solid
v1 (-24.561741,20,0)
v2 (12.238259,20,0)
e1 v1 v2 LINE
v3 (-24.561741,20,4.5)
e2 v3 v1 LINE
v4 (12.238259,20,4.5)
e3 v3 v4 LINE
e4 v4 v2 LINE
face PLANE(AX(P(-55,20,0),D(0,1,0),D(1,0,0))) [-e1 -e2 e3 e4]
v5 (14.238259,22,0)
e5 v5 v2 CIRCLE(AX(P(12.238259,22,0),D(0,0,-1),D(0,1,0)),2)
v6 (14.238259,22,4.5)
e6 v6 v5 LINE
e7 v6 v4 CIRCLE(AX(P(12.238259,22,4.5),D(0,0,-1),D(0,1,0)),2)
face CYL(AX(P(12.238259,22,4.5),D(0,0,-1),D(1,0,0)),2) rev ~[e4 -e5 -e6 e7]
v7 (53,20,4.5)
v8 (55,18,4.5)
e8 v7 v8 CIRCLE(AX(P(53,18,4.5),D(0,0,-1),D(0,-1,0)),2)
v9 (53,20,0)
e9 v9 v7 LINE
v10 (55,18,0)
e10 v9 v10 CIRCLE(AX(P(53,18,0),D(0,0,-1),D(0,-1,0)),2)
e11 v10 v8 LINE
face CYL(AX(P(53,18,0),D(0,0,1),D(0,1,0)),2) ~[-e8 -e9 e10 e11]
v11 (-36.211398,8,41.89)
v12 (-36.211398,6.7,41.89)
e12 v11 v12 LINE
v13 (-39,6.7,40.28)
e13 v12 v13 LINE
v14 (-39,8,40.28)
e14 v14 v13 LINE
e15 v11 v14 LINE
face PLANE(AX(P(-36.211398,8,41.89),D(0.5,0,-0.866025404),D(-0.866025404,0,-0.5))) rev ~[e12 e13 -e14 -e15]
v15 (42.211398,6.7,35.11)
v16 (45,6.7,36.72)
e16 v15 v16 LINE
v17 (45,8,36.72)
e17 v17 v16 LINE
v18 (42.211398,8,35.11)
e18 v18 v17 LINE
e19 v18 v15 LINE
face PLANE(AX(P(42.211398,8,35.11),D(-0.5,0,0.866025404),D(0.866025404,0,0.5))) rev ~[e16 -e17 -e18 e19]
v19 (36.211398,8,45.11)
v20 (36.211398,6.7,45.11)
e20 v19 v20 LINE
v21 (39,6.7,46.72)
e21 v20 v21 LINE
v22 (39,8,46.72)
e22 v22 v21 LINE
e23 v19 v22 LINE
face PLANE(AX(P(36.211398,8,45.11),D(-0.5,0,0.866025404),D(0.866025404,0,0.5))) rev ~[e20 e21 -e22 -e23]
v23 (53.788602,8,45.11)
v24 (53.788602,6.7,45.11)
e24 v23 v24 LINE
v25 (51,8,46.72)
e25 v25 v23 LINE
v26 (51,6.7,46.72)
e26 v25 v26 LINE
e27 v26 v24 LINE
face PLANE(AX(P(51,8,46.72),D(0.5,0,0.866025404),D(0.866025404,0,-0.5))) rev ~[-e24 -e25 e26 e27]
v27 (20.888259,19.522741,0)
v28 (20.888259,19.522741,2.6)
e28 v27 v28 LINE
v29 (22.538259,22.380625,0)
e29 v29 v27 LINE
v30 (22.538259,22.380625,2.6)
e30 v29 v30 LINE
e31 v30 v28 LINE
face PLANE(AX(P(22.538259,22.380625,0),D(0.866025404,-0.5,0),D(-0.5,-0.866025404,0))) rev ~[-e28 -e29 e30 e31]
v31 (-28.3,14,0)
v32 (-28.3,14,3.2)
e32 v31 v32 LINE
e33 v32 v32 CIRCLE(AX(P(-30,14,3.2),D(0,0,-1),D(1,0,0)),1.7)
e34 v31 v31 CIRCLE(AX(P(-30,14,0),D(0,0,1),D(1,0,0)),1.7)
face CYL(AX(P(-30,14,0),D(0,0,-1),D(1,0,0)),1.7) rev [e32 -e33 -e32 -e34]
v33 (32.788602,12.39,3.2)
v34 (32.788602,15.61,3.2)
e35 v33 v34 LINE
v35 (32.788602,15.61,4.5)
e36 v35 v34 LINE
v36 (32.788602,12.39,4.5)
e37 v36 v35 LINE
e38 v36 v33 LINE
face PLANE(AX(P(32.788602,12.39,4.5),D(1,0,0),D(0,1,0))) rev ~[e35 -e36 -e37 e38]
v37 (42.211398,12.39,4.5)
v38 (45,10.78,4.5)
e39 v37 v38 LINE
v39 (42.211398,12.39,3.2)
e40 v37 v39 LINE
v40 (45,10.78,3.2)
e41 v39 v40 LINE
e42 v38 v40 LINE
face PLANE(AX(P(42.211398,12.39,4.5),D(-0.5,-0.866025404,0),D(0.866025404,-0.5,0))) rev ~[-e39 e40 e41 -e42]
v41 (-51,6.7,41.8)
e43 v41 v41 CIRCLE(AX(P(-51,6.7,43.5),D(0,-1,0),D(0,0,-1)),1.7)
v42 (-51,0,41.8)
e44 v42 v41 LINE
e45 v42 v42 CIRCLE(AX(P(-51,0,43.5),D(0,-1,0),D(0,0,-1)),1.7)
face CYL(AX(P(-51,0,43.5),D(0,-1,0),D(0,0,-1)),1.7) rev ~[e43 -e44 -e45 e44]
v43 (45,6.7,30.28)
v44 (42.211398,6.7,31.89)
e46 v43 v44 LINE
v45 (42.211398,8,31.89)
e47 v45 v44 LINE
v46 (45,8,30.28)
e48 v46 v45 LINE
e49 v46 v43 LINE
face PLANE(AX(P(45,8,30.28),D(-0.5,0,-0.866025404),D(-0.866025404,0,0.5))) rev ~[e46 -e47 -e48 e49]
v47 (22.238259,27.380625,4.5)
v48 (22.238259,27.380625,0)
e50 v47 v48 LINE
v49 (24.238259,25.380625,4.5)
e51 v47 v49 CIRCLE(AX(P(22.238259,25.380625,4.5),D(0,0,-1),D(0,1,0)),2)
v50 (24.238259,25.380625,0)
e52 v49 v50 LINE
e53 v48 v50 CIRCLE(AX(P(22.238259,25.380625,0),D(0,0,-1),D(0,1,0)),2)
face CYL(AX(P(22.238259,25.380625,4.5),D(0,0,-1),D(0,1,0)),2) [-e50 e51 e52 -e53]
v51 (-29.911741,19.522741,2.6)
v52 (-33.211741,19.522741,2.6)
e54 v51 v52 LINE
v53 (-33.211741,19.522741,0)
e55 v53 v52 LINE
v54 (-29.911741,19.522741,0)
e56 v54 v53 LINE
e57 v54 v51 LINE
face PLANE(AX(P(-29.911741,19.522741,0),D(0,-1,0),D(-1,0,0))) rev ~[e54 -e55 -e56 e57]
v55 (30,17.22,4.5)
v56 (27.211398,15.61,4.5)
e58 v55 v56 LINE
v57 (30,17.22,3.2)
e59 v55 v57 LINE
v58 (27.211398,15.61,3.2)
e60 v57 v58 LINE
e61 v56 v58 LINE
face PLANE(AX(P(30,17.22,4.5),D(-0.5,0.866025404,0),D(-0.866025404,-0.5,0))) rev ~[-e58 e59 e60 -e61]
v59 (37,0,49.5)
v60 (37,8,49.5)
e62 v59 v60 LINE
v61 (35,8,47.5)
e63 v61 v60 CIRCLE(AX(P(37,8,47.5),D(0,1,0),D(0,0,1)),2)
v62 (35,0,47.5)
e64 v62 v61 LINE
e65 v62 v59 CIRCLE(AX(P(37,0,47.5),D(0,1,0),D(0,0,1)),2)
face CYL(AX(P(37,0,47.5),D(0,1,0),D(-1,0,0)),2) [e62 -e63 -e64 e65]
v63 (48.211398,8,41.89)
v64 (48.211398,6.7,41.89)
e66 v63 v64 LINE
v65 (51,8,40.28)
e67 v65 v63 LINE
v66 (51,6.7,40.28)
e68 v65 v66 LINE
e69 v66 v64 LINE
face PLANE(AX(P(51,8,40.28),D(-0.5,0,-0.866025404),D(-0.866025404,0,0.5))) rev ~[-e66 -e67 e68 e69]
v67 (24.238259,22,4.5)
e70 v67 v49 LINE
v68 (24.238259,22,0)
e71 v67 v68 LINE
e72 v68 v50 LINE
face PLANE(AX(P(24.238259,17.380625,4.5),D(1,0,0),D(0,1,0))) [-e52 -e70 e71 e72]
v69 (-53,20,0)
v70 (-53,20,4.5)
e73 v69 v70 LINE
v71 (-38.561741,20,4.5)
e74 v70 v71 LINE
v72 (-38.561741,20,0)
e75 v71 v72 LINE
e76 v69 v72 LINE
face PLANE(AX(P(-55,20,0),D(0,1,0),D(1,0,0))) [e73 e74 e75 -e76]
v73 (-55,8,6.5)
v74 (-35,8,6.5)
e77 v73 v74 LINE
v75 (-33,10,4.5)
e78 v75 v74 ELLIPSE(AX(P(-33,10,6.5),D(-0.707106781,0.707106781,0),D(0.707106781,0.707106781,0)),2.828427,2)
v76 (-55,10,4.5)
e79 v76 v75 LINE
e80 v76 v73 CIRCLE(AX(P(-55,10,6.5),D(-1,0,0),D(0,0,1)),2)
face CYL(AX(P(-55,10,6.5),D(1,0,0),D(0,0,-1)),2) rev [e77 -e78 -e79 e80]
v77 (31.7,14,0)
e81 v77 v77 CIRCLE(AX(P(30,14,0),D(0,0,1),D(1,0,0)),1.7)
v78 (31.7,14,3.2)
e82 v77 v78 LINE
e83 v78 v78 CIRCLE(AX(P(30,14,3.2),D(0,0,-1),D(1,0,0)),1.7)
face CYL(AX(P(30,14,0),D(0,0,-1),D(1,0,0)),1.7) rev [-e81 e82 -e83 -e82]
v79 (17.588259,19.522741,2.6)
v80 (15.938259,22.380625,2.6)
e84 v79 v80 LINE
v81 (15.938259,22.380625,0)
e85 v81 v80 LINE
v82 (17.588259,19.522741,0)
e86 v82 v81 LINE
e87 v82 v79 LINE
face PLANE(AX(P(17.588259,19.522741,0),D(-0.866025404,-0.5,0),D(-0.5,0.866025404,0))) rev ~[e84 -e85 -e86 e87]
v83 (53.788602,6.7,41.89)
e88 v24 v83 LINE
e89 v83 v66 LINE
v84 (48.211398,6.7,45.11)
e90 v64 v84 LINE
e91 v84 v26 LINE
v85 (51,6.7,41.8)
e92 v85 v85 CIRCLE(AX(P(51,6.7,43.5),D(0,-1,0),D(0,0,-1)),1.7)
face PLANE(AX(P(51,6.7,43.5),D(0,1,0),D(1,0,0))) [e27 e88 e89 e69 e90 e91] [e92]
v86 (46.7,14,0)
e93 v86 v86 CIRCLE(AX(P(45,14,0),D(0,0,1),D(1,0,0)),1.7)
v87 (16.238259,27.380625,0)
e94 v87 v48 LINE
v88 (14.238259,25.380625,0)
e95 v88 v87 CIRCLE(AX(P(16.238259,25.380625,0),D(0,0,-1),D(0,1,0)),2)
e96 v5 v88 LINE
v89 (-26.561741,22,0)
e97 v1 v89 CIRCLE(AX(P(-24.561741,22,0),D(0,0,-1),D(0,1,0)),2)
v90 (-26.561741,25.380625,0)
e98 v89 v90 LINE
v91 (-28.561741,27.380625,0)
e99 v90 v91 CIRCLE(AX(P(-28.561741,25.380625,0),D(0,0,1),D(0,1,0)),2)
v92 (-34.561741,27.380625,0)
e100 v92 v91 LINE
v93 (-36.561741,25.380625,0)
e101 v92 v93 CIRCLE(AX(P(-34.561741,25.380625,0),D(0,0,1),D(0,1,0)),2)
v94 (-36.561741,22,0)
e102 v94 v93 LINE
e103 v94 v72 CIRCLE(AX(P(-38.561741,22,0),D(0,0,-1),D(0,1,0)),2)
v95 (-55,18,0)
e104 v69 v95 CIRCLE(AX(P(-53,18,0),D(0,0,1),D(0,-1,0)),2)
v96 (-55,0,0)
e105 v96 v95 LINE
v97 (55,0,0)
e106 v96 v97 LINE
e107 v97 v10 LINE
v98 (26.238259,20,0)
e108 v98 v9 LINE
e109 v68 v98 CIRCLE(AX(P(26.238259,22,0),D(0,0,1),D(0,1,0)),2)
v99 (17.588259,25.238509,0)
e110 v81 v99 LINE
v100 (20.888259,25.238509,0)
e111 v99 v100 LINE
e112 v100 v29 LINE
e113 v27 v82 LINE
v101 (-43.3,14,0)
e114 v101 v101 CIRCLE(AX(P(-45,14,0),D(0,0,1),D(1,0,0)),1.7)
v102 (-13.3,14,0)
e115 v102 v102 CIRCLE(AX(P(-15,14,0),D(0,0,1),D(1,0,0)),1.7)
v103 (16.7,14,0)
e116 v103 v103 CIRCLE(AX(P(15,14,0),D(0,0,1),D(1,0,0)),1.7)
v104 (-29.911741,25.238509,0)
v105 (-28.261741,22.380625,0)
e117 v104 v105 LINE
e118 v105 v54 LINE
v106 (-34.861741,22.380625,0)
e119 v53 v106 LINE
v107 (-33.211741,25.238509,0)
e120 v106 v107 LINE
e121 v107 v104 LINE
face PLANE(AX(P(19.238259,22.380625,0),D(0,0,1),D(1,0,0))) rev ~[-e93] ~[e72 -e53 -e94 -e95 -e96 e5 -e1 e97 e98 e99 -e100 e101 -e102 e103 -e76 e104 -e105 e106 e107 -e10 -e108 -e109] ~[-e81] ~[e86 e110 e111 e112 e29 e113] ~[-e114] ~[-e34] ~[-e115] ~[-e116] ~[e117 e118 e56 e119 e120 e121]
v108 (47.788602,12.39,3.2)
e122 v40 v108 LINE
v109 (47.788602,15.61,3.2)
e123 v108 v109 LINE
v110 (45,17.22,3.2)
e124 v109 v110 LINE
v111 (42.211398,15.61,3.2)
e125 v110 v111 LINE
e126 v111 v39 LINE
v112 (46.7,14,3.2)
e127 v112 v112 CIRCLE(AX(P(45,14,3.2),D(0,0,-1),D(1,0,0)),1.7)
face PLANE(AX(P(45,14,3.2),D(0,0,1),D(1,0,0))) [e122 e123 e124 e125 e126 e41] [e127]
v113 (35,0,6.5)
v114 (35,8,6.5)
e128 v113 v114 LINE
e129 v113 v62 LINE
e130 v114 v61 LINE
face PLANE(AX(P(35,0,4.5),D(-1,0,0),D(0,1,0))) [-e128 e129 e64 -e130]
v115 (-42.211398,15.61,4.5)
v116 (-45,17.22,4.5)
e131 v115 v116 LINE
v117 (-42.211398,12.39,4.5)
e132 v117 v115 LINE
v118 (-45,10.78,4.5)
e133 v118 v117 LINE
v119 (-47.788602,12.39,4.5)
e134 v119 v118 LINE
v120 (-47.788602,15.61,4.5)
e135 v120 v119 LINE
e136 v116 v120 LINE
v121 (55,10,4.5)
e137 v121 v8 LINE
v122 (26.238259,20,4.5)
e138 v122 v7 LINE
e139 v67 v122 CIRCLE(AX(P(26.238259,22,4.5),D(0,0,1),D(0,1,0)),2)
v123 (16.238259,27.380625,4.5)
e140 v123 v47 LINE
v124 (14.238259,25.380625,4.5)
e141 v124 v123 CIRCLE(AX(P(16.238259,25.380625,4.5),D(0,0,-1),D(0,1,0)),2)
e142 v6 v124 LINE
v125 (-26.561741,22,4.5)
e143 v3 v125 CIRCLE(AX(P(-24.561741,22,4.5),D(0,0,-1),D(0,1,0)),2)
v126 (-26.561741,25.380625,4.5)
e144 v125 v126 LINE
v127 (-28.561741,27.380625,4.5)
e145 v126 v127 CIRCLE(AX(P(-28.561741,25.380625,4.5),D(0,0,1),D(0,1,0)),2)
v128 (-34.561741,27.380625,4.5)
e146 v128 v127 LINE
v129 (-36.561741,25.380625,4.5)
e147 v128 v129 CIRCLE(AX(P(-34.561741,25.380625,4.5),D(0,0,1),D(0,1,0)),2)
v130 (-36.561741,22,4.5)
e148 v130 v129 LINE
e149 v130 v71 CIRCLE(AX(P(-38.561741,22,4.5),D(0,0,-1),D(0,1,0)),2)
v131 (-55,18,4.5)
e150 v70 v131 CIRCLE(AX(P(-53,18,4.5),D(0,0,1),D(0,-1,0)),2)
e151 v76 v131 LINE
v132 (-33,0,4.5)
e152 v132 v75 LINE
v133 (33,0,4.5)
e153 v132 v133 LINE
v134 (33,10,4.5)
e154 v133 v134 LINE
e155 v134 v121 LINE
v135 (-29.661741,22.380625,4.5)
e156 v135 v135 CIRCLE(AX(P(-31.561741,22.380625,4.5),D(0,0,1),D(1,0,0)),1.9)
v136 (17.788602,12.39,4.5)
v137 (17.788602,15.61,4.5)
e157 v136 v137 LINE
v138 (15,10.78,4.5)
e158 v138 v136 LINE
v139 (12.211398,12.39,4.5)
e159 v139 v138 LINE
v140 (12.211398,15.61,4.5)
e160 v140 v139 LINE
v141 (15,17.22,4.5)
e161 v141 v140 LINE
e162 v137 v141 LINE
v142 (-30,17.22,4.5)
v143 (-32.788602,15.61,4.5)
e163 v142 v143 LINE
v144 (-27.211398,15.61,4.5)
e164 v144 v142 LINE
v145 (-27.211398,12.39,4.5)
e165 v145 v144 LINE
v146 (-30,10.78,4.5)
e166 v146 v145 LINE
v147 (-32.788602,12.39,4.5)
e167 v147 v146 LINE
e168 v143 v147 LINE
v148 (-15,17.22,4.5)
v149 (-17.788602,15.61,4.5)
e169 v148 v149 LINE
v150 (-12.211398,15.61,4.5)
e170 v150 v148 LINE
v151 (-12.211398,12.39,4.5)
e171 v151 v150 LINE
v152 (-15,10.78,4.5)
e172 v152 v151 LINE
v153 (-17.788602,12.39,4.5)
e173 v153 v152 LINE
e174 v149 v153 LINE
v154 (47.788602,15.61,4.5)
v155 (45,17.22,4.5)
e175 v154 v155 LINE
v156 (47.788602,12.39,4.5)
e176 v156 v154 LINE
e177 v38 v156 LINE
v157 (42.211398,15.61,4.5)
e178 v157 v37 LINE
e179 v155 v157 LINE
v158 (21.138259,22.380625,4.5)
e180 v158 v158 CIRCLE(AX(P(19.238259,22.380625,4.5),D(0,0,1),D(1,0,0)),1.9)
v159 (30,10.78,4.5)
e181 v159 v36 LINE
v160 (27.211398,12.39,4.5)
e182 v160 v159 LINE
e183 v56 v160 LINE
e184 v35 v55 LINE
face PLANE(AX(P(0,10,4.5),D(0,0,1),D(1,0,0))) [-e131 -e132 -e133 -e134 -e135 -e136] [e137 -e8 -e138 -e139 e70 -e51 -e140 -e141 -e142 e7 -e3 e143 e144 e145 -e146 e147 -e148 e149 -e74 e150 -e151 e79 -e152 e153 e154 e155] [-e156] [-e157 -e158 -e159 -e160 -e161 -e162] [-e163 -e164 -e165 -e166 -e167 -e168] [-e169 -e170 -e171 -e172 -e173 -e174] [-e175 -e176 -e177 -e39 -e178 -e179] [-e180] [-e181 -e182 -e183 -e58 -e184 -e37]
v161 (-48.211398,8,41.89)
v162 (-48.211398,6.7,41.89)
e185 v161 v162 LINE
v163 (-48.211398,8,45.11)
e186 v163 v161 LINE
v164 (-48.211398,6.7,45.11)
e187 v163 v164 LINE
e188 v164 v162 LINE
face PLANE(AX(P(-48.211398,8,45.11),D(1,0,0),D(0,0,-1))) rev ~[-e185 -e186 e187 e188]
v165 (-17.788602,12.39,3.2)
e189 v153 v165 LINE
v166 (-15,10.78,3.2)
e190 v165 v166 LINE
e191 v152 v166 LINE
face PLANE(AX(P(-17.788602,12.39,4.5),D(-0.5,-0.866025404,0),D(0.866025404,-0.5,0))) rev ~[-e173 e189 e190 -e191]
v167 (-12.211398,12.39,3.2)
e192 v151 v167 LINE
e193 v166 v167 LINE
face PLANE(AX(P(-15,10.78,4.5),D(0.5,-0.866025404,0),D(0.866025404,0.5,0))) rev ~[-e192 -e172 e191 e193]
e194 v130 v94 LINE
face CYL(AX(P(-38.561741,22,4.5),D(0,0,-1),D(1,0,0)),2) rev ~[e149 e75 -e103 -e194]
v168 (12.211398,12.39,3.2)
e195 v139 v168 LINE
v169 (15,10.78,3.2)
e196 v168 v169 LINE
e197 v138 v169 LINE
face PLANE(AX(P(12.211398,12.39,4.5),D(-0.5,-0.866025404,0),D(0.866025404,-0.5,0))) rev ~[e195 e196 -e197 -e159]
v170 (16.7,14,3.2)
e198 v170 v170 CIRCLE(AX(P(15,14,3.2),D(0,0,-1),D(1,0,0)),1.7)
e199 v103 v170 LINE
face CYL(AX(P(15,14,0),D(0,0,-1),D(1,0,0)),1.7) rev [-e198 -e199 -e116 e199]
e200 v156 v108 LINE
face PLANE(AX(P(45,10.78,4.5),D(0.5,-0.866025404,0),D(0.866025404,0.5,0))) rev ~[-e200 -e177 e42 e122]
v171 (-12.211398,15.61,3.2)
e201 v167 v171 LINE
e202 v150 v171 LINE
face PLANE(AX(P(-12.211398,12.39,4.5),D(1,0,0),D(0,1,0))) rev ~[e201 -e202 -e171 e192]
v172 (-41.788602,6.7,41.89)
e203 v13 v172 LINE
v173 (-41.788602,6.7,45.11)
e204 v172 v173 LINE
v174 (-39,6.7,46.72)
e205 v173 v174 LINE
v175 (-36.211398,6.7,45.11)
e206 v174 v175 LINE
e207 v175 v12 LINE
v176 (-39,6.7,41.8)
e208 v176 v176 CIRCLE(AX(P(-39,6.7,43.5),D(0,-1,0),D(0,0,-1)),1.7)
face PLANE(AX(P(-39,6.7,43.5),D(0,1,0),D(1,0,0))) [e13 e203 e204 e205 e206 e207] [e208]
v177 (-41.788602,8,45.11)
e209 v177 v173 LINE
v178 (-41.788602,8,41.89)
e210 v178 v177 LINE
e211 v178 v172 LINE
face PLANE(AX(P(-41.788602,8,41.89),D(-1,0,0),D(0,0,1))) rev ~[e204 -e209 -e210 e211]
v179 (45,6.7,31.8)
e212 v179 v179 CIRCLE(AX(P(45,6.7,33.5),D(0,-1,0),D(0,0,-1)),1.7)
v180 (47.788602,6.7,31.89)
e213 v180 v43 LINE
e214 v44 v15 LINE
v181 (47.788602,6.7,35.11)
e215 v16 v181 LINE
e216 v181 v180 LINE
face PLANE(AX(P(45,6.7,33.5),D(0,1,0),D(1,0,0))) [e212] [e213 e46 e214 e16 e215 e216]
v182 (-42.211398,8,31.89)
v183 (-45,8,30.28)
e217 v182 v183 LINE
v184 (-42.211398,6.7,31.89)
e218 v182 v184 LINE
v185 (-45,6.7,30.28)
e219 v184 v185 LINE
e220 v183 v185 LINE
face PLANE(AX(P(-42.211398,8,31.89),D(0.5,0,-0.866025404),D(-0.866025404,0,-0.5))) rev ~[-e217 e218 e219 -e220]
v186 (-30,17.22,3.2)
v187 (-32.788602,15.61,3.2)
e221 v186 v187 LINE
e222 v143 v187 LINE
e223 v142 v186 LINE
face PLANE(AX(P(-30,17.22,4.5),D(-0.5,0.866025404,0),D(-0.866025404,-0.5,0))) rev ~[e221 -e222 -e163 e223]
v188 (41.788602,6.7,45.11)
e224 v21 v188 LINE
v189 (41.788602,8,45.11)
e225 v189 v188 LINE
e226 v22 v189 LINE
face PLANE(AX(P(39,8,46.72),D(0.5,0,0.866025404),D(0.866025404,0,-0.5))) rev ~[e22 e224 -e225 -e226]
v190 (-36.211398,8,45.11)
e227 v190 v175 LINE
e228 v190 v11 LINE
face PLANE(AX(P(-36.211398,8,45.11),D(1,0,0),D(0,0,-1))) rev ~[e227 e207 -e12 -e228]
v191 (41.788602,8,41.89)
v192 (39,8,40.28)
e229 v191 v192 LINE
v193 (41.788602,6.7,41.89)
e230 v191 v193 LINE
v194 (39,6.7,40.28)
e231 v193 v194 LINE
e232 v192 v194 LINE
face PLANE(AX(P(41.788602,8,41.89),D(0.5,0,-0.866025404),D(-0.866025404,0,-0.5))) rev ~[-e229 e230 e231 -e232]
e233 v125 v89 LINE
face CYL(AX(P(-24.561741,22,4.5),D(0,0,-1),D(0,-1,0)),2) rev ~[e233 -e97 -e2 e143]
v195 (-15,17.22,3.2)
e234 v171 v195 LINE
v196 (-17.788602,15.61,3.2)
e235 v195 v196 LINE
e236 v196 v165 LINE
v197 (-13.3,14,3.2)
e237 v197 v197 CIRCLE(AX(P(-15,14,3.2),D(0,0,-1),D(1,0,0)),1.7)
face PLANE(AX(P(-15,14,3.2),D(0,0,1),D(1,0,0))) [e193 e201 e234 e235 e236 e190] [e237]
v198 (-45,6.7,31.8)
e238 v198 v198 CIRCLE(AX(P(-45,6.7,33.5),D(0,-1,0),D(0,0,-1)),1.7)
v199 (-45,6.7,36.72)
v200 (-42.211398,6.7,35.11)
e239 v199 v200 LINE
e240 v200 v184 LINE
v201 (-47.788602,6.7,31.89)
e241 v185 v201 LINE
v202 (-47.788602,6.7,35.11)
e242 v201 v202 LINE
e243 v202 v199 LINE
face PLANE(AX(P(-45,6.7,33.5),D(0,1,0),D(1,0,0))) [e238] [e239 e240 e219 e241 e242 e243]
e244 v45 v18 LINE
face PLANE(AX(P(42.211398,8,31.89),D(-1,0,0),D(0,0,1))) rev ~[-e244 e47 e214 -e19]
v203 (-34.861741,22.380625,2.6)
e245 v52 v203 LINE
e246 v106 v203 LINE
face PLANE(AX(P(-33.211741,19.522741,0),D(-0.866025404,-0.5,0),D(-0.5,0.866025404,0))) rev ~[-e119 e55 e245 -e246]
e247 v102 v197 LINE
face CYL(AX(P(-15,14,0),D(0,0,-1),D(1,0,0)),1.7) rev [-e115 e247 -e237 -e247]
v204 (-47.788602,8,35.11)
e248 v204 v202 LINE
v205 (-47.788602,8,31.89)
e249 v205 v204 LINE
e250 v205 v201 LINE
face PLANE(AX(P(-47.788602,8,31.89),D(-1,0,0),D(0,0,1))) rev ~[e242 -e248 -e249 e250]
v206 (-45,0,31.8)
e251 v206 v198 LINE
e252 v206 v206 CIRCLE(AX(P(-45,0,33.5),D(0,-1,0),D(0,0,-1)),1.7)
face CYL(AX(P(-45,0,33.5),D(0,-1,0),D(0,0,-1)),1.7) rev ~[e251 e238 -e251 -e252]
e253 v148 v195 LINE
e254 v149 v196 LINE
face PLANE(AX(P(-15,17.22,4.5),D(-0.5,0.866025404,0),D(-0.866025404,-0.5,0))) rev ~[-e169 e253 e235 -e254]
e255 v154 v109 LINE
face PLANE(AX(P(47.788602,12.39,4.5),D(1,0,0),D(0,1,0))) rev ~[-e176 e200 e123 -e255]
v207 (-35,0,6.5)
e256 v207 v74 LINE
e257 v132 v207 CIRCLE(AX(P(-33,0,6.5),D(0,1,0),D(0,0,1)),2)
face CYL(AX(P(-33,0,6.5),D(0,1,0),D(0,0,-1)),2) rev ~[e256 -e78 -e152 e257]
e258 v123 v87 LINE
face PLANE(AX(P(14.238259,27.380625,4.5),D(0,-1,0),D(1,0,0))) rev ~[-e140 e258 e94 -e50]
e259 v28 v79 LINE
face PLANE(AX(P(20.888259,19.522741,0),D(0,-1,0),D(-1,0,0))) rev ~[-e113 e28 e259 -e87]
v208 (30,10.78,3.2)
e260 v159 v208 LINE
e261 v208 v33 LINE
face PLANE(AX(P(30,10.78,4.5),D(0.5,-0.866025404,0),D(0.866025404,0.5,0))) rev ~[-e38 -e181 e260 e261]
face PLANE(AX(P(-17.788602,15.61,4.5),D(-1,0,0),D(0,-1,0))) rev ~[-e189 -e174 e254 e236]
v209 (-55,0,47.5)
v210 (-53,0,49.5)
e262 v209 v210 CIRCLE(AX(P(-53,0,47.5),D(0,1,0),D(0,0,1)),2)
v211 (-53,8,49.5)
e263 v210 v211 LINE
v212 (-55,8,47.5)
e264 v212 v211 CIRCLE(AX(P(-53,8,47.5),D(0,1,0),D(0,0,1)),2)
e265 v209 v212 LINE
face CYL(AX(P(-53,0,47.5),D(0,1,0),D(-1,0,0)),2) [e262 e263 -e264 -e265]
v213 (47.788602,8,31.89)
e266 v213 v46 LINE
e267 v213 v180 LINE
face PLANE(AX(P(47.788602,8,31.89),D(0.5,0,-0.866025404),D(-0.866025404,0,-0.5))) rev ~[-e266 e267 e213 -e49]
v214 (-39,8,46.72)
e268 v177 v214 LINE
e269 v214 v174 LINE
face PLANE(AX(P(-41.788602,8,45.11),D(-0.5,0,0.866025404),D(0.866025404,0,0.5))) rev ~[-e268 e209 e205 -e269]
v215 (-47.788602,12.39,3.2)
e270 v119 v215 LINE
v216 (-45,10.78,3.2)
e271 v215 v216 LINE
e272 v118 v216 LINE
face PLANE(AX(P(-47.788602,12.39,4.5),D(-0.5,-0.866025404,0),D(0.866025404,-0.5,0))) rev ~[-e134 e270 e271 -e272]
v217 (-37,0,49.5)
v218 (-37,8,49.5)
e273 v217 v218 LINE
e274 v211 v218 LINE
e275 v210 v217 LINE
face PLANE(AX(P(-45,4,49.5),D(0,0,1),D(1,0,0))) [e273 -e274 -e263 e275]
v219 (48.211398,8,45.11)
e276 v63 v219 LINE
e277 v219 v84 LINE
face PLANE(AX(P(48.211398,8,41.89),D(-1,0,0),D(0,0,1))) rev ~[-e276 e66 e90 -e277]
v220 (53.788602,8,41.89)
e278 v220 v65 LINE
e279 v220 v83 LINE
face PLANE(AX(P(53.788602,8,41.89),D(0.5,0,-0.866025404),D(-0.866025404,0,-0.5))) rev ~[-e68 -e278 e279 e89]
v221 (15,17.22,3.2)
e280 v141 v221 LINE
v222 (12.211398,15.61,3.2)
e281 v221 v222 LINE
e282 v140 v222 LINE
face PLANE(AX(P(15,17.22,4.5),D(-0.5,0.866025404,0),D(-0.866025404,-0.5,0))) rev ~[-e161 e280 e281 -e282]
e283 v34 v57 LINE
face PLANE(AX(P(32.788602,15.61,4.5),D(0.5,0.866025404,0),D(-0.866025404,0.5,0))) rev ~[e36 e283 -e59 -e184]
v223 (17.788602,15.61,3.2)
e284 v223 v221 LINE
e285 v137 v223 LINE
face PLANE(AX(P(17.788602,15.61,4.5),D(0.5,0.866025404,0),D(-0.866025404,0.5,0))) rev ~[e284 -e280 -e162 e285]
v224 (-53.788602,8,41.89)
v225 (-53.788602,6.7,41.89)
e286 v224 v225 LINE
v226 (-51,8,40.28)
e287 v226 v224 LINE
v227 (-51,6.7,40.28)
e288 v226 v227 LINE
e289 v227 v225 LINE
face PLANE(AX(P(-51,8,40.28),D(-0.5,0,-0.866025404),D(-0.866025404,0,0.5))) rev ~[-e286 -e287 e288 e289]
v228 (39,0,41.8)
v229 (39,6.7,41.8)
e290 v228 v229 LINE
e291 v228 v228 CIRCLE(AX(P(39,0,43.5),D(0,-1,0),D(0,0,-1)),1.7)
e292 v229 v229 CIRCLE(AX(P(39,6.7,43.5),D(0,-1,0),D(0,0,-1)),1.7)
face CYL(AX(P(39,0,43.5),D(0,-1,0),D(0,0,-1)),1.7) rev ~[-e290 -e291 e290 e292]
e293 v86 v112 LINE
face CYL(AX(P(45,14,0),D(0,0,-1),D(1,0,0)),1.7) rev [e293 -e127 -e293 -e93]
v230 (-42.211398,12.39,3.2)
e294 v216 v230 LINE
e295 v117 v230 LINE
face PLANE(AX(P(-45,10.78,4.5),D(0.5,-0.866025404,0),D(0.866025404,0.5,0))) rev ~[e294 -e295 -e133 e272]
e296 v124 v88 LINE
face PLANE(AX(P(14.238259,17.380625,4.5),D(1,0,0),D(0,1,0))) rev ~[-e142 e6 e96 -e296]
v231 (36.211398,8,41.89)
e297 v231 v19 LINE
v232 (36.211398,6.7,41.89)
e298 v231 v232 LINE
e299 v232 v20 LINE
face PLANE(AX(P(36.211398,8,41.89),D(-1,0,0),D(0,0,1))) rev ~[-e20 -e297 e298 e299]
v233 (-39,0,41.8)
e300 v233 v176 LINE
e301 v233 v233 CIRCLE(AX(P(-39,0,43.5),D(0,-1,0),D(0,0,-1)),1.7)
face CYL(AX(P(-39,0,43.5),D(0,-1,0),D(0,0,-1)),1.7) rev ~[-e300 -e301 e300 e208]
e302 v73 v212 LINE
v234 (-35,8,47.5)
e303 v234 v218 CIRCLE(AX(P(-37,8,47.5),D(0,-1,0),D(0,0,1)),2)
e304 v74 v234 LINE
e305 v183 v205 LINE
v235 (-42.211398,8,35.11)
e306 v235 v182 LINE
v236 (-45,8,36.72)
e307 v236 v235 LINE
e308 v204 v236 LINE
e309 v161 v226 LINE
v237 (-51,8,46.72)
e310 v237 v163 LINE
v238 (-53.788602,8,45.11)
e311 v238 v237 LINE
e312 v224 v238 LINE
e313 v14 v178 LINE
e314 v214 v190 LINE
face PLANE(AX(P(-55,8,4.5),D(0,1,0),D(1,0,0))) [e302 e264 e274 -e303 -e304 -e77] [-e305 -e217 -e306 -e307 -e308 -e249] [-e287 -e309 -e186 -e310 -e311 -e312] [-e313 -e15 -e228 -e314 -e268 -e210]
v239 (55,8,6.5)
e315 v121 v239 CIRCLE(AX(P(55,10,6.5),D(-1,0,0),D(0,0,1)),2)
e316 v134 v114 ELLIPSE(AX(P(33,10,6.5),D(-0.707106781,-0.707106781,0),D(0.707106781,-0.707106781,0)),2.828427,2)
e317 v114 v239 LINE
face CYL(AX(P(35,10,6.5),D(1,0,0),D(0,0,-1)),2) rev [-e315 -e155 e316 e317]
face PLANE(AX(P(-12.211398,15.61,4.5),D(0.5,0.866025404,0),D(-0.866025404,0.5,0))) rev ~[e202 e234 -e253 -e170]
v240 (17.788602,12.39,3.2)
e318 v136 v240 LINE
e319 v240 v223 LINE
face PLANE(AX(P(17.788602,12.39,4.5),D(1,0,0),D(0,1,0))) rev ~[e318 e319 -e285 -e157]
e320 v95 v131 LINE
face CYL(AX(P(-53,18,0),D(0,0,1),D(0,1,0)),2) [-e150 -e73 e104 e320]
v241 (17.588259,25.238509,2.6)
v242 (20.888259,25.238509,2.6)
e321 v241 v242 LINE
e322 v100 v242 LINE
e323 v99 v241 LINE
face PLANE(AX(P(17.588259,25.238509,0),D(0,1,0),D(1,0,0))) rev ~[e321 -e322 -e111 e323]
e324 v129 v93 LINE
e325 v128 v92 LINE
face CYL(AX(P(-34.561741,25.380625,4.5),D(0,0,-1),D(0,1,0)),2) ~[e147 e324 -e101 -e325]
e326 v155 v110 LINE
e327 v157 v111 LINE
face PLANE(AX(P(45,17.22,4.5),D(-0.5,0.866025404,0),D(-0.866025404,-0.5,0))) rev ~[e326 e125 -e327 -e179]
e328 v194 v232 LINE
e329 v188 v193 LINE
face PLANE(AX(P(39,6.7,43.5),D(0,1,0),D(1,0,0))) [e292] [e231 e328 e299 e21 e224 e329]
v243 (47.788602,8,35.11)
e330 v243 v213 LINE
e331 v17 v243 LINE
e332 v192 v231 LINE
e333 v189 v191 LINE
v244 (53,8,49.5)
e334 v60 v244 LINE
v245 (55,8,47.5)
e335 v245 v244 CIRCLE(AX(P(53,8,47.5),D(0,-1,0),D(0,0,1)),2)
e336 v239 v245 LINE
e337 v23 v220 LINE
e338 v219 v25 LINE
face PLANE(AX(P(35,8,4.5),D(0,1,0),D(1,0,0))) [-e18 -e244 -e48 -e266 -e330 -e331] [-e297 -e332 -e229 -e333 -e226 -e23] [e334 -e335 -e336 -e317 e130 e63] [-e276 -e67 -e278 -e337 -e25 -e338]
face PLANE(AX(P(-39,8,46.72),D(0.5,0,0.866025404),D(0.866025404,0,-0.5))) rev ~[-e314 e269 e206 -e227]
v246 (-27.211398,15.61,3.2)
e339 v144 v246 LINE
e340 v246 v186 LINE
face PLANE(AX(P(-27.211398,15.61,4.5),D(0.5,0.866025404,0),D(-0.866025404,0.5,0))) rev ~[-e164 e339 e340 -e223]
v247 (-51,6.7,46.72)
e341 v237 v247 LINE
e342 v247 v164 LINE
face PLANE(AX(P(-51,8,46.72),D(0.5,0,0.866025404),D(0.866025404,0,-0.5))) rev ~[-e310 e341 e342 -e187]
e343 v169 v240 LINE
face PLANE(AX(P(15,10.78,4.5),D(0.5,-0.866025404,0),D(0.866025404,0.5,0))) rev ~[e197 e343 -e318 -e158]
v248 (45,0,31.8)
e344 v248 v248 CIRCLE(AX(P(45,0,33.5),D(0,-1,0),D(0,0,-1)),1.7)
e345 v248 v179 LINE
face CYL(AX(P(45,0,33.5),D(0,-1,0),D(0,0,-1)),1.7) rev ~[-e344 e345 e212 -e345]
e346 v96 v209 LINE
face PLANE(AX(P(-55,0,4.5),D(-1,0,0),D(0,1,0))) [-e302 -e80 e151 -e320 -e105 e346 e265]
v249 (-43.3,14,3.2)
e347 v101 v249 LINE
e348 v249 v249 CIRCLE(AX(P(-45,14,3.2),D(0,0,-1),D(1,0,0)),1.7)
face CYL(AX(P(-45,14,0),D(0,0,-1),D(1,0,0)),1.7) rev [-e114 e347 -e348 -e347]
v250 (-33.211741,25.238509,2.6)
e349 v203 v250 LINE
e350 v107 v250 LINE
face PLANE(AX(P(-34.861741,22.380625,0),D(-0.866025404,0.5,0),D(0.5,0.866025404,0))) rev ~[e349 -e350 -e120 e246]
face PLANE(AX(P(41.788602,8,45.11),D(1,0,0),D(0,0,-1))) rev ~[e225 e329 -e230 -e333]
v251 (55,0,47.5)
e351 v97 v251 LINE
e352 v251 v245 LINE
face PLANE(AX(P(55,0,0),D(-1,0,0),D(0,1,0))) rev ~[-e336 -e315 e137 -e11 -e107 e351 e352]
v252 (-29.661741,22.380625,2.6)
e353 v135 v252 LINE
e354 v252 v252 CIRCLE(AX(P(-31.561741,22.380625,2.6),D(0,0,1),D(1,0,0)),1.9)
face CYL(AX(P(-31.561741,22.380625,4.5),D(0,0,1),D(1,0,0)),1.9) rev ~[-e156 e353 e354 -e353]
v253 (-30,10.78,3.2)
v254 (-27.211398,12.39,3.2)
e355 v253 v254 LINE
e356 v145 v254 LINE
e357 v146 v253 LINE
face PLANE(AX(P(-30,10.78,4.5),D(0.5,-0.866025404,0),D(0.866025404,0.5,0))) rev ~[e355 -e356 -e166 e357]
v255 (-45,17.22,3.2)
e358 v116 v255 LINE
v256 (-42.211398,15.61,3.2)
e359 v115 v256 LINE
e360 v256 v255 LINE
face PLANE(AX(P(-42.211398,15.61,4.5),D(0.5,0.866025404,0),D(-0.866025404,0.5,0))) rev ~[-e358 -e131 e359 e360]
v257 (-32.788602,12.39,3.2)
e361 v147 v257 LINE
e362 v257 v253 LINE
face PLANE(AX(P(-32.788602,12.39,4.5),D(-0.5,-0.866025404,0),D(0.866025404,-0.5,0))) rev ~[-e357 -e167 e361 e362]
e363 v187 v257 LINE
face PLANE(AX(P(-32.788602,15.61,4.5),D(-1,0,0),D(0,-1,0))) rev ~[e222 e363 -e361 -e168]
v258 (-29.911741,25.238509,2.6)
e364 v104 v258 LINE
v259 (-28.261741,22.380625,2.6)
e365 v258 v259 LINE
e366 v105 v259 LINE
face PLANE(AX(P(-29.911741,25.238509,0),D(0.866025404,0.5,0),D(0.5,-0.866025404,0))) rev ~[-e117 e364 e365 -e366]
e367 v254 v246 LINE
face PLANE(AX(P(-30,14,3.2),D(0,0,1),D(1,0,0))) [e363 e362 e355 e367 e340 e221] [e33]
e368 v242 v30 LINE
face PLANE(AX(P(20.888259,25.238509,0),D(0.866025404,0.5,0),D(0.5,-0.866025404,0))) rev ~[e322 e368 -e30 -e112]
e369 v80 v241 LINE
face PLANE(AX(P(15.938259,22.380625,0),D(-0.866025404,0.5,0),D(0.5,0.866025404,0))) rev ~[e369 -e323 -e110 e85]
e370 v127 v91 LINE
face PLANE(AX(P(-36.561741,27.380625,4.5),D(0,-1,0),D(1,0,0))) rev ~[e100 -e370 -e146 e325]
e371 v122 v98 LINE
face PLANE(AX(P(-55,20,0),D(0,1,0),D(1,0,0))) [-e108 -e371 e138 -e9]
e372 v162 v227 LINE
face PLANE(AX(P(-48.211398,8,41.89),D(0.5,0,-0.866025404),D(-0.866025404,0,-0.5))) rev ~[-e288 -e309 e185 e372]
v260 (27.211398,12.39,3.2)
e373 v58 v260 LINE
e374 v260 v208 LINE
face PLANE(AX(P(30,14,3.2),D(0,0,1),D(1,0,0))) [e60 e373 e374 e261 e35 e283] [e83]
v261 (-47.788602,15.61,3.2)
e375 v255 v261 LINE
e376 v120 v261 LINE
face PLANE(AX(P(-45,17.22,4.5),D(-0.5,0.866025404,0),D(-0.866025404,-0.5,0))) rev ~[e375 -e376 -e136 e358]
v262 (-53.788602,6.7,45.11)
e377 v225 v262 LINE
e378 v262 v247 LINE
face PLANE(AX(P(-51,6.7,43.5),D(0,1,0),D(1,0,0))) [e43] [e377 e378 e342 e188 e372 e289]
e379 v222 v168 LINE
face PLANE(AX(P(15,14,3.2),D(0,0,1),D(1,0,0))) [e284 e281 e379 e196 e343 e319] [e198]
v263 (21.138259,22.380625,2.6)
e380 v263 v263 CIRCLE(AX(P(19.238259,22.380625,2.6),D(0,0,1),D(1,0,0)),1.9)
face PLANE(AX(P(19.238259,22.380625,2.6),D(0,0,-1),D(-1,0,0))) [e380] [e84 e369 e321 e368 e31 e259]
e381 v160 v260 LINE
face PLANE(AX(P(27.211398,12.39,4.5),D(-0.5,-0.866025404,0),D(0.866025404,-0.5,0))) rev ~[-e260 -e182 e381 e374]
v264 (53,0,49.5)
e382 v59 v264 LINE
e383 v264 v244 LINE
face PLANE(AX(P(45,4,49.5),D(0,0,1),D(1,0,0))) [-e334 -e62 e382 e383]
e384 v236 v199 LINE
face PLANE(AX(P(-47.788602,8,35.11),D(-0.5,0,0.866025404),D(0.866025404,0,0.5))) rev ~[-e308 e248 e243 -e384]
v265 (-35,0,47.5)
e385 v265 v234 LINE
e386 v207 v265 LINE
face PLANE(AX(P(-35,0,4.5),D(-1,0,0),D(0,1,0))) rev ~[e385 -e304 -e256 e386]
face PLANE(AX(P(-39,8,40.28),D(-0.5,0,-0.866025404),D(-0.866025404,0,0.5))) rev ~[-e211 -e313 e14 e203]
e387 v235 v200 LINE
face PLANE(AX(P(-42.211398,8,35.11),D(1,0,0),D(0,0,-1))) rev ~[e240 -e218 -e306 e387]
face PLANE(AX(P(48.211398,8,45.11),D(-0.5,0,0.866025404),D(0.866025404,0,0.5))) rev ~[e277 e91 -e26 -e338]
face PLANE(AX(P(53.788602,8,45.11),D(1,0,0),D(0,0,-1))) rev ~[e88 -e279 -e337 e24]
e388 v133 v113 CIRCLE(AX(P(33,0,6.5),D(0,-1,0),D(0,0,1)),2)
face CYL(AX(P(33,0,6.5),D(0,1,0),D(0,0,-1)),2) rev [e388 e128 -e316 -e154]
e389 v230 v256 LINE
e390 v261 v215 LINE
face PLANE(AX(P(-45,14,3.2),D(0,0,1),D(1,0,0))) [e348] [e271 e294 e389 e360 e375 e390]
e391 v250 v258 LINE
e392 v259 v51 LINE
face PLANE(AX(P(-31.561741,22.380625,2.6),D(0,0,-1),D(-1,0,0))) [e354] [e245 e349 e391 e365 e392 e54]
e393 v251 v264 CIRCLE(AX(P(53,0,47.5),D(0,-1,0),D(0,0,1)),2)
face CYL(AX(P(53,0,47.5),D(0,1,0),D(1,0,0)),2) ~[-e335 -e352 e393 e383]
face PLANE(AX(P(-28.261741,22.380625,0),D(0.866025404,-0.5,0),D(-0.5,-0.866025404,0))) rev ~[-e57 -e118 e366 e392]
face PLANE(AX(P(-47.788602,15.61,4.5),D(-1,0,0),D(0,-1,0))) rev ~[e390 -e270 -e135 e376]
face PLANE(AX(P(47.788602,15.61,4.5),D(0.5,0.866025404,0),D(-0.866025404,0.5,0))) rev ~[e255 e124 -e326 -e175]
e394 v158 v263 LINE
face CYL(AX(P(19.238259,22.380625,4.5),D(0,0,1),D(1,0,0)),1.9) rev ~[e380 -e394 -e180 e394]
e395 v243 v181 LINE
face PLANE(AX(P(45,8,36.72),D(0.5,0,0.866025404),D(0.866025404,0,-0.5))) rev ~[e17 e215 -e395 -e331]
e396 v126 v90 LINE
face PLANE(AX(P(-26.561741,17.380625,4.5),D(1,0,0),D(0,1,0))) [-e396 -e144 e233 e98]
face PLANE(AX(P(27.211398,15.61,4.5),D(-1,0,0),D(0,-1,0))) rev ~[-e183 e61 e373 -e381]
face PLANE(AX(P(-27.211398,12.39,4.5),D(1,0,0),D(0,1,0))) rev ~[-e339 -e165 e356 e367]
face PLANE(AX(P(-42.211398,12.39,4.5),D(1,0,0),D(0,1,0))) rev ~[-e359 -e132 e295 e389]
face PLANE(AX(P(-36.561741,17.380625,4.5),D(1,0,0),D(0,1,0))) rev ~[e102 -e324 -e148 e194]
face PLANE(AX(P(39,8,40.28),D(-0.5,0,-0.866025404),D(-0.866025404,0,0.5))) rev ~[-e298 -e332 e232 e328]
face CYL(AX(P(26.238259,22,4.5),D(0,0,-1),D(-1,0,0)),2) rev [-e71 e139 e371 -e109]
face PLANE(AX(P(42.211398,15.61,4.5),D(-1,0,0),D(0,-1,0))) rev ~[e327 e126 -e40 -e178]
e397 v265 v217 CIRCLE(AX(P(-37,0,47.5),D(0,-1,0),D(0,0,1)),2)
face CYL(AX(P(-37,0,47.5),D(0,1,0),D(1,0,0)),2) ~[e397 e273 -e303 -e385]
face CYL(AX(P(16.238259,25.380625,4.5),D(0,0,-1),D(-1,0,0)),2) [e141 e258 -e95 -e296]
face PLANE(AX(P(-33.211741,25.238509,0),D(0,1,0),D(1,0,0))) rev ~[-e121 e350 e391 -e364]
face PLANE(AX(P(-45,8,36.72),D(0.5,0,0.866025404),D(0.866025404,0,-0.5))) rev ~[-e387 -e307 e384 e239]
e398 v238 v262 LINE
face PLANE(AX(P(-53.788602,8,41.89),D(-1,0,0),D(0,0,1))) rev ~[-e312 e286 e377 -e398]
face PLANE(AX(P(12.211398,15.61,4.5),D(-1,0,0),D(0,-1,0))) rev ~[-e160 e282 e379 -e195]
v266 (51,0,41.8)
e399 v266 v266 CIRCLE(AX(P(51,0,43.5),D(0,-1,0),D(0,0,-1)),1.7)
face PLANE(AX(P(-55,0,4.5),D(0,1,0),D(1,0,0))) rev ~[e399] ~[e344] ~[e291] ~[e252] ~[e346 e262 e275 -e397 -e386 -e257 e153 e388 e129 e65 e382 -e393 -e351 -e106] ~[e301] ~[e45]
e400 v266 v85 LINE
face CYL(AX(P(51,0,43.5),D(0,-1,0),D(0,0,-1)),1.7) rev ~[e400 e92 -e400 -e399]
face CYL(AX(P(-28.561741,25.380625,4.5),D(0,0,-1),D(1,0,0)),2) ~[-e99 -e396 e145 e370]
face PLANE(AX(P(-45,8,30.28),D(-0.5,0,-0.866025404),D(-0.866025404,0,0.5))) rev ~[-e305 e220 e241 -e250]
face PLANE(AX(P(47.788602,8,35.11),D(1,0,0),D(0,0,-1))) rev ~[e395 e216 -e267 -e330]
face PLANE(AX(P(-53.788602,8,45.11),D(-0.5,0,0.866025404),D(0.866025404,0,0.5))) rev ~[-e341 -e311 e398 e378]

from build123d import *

# Parameters (mm, degrees)
SKETCH_1_W          = 110
SKETCH_1_H          = 20
SKETCH_1_R          = 1.7
EXTRUDE_1_DEPTH     = 4.5
SKETCH_2_W          = 20
SKETCH_2_H          = 8
EXTRUDE_2_DEPTH     = 45
CUT_EXTRUDE_1_DEPTH = 1.3
SKETCH_4_W          = 10
SKETCH_4_H          = 10
EXTRUDE_3_DEPTH     = 4.5
SKETCH_5_R          = 1.9
CUT_EXTRUDE_2_DEPTH = 77.155752448
CUT_EXTRUDE_3_DEPTH = 2.6
SKETCH_7_R          = 1.7
CUT_EXTRUDE_4_DEPTH = 79.898343651
CUT_EXTRUDE_5_DEPTH = 1.3
FILLET_1_R          = 2


with BuildPart() as part:
    # 草图1 → 凸台-拉伸1 (new body)
    with BuildSketch(Plane.XY):
        with Locations((0, 10)):
            Rectangle(SKETCH_1_W, SKETCH_1_H)
        with Locations((-45, 14)):
            Circle(SKETCH_1_R, mode=Mode.SUBTRACT)
        with Locations((-30, 14)):
            Circle(SKETCH_1_R, mode=Mode.SUBTRACT)
        with Locations((-15, 14)):
            Circle(SKETCH_1_R, mode=Mode.SUBTRACT)
        with Locations((15, 14)):
            Circle(SKETCH_1_R, mode=Mode.SUBTRACT)
        with Locations((30, 14)):
            Circle(SKETCH_1_R, mode=Mode.SUBTRACT)
        with Locations((45, 14)):
            Circle(SKETCH_1_R, mode=Mode.SUBTRACT)
    extrude(amount=EXTRUDE_1_DEPTH)

    # 草图2 → 凸台-拉伸2 (add)
    with BuildSketch(Plane.XY.offset(4.5)):
        with Locations((-45, 4)):
            Rectangle(SKETCH_2_W, SKETCH_2_H)
        with Locations((45, 4)):
            Rectangle(SKETCH_2_W, SKETCH_2_H)
    extrude(amount=EXTRUDE_2_DEPTH)

    # 草图3 → 切除-拉伸1 (cut)
    with BuildSketch(Plane.XY.offset(4.5)):
        Polygon((-45, 17.22), (-47.7886018, 15.61), (-47.7886018, 12.39), (-45, 10.78), (-42.2113982, 12.39), (-42.2113982, 15.61), align=None)
        Polygon((-30, 17.22), (-32.7886018, 15.61), (-32.7886018, 12.39), (-30, 10.78), (-27.2113982, 12.39), (-27.2113982, 15.61), align=None)
        Polygon((-15, 17.22), (-17.7886018, 15.61), (-17.7886018, 12.39), (-15, 10.78), (-12.2113982, 12.39), (-12.2113982, 15.61), align=None)
        Polygon((15, 17.22), (12.2113982, 15.61), (12.2113982, 12.39), (15, 10.78), (17.7886018, 12.39), (17.7886018, 15.61), align=None)
        Polygon((30, 17.22), (27.2113982, 15.61), (27.2113982, 12.39), (30, 10.78), (32.7886018, 12.39), (32.7886018, 15.61), align=None)
        Polygon((45, 17.22), (42.2113982, 15.61), (42.2113982, 12.39), (45, 10.78), (47.7886018, 12.39), (47.7886018, 15.61), align=None)
    extrude(amount=-CUT_EXTRUDE_1_DEPTH, mode=Mode.SUBTRACT)

    # 草图4 → 凸台-拉伸3 (add)
    with BuildSketch(Plane.XY.offset(4.5)):
        with Locations((19.238259457, 22.3806251)):
            Rectangle(SKETCH_4_W, SKETCH_4_H)
        with Locations((-31.561740543, 22.3806251)):
            Rectangle(SKETCH_4_W, SKETCH_4_H)
    extrude(amount=-EXTRUDE_3_DEPTH)

    # 草图5 → 切除-拉伸2 (cut, through all)
    with BuildSketch(Plane.XY.offset(4.5)):
        with Locations((19.238259457, 22.3806251)):
            Circle(SKETCH_5_R)
        with Locations((-31.561740543, 22.3806251)):
            Circle(SKETCH_5_R)
    extrude(amount=-CUT_EXTRUDE_2_DEPTH, mode=Mode.SUBTRACT)

    # 草图6 → 切除-拉伸3 (cut)
    with BuildSketch(Plane(origin=(0, 0, 0), x_dir=(-1, 0, 0), z_dir=(0, 0, -1))):
        Polygon((34.861740543, 22.3806251), (33.211740543, 25.238508932), (29.911740543, 25.238508932), (28.261740543, 22.3806251), (29.911740543, 19.522741267), (33.211740543, 19.522741267), align=None)
        Polygon((-15.938259457, 22.3806251), (-17.588259457, 25.238508932), (-20.888259457, 25.238508932), (-22.538259457, 22.3806251), (-20.888259457, 19.522741267), (-17.588259457, 19.522741267), align=None)
    extrude(amount=-CUT_EXTRUDE_3_DEPTH, mode=Mode.SUBTRACT)

    # 草图7 → 切除-拉伸4 (cut, through all)
    with BuildSketch(Plane.XZ):
        with Locations(Location((-51, 43.5, 0), (0, 0, 270))):
            Circle(SKETCH_7_R)
        with Locations(Location((-39, 43.5, 0), (0, 0, 270))):
            Circle(SKETCH_7_R)
        with Locations(Location((-45, 33.5, 0), (0, 0, 270))):
            Circle(SKETCH_7_R)
        with Locations(Location((39, 43.5, 0), (0, 0, 270))):
            Circle(SKETCH_7_R)
        with Locations(Location((51, 43.5, 0), (0, 0, 270))):
            Circle(SKETCH_7_R)
        with Locations(Location((45, 33.5, 0), (0, 0, 270))):
            Circle(SKETCH_7_R)
    extrude(amount=-CUT_EXTRUDE_4_DEPTH, mode=Mode.SUBTRACT)

    # 草图8 → 切除-拉伸5 (cut)
    with BuildSketch(Plane(origin=(0, 8, 0), x_dir=(1, 0, 0), z_dir=(0, 1, 0))):
        Polygon((51, -46.72), (53.7886018, -45.11), (53.7886018, -41.89), (51, -40.28), (48.2113982, -41.89), (48.2113982, -45.11), align=None)
        Polygon((39, -46.72), (41.7886018, -45.11), (41.7886018, -41.89), (39, -40.28), (36.2113982, -41.89), (36.2113982, -45.11), align=None)
        Polygon((45, -36.72), (47.7886018, -35.11), (47.7886018, -31.89), (45, -30.28), (42.2113982, -31.89), (42.2113982, -35.11), align=None)
        Polygon((-39, -46.72), (-36.2113982, -45.11), (-36.2113982, -41.89), (-39, -40.28), (-41.7886018, -41.89), (-41.7886018, -45.11), align=None)
        Polygon((-51, -46.72), (-48.2113982, -45.11), (-48.2113982, -41.89), (-51, -40.28), (-53.7886018, -41.89), (-53.7886018, -45.11), align=None)
        Polygon((-45, -36.72), (-42.2113982, -35.11), (-42.2113982, -31.89), (-45, -30.28), (-47.7886018, -31.89), (-47.7886018, -35.11), align=None)
    extrude(amount=-CUT_EXTRUDE_5_DEPTH, mode=Mode.SUBTRACT)

    # 圆角1
    fillet_1_edges = [part.edges().sort_by_distance(p)[0] for p in [
        (24.238259457, 20, 2.25),
        (14.238259457, 20, 2.25),
        (24.238259457, 27.3806251, 2.25),
        (14.238259457, 27.3806251, 2.25),
        (-26.561740543, 27.3806251, 2.25),
        (-36.561740543, 20, 2.25),
        (-36.561740543, 27.3806251, 2.25),
        (-26.561740543, 20, 2.25),
        (-35, 4, 4.5),
        (-45, 8, 4.5),
        (-55, 4, 49.5),
        (-35, 4, 49.5),
        (45, 8, 4.5),
        (35, 4, 4.5),
        (55, 4, 49.5),
        (35, 4, 49.5),
        (-55, 20, 2.25),
        (55, 20, 2.25),
    ]]
    fillet(fillet_1_edges, radius=FILLET_1_R)


solid = part.part
